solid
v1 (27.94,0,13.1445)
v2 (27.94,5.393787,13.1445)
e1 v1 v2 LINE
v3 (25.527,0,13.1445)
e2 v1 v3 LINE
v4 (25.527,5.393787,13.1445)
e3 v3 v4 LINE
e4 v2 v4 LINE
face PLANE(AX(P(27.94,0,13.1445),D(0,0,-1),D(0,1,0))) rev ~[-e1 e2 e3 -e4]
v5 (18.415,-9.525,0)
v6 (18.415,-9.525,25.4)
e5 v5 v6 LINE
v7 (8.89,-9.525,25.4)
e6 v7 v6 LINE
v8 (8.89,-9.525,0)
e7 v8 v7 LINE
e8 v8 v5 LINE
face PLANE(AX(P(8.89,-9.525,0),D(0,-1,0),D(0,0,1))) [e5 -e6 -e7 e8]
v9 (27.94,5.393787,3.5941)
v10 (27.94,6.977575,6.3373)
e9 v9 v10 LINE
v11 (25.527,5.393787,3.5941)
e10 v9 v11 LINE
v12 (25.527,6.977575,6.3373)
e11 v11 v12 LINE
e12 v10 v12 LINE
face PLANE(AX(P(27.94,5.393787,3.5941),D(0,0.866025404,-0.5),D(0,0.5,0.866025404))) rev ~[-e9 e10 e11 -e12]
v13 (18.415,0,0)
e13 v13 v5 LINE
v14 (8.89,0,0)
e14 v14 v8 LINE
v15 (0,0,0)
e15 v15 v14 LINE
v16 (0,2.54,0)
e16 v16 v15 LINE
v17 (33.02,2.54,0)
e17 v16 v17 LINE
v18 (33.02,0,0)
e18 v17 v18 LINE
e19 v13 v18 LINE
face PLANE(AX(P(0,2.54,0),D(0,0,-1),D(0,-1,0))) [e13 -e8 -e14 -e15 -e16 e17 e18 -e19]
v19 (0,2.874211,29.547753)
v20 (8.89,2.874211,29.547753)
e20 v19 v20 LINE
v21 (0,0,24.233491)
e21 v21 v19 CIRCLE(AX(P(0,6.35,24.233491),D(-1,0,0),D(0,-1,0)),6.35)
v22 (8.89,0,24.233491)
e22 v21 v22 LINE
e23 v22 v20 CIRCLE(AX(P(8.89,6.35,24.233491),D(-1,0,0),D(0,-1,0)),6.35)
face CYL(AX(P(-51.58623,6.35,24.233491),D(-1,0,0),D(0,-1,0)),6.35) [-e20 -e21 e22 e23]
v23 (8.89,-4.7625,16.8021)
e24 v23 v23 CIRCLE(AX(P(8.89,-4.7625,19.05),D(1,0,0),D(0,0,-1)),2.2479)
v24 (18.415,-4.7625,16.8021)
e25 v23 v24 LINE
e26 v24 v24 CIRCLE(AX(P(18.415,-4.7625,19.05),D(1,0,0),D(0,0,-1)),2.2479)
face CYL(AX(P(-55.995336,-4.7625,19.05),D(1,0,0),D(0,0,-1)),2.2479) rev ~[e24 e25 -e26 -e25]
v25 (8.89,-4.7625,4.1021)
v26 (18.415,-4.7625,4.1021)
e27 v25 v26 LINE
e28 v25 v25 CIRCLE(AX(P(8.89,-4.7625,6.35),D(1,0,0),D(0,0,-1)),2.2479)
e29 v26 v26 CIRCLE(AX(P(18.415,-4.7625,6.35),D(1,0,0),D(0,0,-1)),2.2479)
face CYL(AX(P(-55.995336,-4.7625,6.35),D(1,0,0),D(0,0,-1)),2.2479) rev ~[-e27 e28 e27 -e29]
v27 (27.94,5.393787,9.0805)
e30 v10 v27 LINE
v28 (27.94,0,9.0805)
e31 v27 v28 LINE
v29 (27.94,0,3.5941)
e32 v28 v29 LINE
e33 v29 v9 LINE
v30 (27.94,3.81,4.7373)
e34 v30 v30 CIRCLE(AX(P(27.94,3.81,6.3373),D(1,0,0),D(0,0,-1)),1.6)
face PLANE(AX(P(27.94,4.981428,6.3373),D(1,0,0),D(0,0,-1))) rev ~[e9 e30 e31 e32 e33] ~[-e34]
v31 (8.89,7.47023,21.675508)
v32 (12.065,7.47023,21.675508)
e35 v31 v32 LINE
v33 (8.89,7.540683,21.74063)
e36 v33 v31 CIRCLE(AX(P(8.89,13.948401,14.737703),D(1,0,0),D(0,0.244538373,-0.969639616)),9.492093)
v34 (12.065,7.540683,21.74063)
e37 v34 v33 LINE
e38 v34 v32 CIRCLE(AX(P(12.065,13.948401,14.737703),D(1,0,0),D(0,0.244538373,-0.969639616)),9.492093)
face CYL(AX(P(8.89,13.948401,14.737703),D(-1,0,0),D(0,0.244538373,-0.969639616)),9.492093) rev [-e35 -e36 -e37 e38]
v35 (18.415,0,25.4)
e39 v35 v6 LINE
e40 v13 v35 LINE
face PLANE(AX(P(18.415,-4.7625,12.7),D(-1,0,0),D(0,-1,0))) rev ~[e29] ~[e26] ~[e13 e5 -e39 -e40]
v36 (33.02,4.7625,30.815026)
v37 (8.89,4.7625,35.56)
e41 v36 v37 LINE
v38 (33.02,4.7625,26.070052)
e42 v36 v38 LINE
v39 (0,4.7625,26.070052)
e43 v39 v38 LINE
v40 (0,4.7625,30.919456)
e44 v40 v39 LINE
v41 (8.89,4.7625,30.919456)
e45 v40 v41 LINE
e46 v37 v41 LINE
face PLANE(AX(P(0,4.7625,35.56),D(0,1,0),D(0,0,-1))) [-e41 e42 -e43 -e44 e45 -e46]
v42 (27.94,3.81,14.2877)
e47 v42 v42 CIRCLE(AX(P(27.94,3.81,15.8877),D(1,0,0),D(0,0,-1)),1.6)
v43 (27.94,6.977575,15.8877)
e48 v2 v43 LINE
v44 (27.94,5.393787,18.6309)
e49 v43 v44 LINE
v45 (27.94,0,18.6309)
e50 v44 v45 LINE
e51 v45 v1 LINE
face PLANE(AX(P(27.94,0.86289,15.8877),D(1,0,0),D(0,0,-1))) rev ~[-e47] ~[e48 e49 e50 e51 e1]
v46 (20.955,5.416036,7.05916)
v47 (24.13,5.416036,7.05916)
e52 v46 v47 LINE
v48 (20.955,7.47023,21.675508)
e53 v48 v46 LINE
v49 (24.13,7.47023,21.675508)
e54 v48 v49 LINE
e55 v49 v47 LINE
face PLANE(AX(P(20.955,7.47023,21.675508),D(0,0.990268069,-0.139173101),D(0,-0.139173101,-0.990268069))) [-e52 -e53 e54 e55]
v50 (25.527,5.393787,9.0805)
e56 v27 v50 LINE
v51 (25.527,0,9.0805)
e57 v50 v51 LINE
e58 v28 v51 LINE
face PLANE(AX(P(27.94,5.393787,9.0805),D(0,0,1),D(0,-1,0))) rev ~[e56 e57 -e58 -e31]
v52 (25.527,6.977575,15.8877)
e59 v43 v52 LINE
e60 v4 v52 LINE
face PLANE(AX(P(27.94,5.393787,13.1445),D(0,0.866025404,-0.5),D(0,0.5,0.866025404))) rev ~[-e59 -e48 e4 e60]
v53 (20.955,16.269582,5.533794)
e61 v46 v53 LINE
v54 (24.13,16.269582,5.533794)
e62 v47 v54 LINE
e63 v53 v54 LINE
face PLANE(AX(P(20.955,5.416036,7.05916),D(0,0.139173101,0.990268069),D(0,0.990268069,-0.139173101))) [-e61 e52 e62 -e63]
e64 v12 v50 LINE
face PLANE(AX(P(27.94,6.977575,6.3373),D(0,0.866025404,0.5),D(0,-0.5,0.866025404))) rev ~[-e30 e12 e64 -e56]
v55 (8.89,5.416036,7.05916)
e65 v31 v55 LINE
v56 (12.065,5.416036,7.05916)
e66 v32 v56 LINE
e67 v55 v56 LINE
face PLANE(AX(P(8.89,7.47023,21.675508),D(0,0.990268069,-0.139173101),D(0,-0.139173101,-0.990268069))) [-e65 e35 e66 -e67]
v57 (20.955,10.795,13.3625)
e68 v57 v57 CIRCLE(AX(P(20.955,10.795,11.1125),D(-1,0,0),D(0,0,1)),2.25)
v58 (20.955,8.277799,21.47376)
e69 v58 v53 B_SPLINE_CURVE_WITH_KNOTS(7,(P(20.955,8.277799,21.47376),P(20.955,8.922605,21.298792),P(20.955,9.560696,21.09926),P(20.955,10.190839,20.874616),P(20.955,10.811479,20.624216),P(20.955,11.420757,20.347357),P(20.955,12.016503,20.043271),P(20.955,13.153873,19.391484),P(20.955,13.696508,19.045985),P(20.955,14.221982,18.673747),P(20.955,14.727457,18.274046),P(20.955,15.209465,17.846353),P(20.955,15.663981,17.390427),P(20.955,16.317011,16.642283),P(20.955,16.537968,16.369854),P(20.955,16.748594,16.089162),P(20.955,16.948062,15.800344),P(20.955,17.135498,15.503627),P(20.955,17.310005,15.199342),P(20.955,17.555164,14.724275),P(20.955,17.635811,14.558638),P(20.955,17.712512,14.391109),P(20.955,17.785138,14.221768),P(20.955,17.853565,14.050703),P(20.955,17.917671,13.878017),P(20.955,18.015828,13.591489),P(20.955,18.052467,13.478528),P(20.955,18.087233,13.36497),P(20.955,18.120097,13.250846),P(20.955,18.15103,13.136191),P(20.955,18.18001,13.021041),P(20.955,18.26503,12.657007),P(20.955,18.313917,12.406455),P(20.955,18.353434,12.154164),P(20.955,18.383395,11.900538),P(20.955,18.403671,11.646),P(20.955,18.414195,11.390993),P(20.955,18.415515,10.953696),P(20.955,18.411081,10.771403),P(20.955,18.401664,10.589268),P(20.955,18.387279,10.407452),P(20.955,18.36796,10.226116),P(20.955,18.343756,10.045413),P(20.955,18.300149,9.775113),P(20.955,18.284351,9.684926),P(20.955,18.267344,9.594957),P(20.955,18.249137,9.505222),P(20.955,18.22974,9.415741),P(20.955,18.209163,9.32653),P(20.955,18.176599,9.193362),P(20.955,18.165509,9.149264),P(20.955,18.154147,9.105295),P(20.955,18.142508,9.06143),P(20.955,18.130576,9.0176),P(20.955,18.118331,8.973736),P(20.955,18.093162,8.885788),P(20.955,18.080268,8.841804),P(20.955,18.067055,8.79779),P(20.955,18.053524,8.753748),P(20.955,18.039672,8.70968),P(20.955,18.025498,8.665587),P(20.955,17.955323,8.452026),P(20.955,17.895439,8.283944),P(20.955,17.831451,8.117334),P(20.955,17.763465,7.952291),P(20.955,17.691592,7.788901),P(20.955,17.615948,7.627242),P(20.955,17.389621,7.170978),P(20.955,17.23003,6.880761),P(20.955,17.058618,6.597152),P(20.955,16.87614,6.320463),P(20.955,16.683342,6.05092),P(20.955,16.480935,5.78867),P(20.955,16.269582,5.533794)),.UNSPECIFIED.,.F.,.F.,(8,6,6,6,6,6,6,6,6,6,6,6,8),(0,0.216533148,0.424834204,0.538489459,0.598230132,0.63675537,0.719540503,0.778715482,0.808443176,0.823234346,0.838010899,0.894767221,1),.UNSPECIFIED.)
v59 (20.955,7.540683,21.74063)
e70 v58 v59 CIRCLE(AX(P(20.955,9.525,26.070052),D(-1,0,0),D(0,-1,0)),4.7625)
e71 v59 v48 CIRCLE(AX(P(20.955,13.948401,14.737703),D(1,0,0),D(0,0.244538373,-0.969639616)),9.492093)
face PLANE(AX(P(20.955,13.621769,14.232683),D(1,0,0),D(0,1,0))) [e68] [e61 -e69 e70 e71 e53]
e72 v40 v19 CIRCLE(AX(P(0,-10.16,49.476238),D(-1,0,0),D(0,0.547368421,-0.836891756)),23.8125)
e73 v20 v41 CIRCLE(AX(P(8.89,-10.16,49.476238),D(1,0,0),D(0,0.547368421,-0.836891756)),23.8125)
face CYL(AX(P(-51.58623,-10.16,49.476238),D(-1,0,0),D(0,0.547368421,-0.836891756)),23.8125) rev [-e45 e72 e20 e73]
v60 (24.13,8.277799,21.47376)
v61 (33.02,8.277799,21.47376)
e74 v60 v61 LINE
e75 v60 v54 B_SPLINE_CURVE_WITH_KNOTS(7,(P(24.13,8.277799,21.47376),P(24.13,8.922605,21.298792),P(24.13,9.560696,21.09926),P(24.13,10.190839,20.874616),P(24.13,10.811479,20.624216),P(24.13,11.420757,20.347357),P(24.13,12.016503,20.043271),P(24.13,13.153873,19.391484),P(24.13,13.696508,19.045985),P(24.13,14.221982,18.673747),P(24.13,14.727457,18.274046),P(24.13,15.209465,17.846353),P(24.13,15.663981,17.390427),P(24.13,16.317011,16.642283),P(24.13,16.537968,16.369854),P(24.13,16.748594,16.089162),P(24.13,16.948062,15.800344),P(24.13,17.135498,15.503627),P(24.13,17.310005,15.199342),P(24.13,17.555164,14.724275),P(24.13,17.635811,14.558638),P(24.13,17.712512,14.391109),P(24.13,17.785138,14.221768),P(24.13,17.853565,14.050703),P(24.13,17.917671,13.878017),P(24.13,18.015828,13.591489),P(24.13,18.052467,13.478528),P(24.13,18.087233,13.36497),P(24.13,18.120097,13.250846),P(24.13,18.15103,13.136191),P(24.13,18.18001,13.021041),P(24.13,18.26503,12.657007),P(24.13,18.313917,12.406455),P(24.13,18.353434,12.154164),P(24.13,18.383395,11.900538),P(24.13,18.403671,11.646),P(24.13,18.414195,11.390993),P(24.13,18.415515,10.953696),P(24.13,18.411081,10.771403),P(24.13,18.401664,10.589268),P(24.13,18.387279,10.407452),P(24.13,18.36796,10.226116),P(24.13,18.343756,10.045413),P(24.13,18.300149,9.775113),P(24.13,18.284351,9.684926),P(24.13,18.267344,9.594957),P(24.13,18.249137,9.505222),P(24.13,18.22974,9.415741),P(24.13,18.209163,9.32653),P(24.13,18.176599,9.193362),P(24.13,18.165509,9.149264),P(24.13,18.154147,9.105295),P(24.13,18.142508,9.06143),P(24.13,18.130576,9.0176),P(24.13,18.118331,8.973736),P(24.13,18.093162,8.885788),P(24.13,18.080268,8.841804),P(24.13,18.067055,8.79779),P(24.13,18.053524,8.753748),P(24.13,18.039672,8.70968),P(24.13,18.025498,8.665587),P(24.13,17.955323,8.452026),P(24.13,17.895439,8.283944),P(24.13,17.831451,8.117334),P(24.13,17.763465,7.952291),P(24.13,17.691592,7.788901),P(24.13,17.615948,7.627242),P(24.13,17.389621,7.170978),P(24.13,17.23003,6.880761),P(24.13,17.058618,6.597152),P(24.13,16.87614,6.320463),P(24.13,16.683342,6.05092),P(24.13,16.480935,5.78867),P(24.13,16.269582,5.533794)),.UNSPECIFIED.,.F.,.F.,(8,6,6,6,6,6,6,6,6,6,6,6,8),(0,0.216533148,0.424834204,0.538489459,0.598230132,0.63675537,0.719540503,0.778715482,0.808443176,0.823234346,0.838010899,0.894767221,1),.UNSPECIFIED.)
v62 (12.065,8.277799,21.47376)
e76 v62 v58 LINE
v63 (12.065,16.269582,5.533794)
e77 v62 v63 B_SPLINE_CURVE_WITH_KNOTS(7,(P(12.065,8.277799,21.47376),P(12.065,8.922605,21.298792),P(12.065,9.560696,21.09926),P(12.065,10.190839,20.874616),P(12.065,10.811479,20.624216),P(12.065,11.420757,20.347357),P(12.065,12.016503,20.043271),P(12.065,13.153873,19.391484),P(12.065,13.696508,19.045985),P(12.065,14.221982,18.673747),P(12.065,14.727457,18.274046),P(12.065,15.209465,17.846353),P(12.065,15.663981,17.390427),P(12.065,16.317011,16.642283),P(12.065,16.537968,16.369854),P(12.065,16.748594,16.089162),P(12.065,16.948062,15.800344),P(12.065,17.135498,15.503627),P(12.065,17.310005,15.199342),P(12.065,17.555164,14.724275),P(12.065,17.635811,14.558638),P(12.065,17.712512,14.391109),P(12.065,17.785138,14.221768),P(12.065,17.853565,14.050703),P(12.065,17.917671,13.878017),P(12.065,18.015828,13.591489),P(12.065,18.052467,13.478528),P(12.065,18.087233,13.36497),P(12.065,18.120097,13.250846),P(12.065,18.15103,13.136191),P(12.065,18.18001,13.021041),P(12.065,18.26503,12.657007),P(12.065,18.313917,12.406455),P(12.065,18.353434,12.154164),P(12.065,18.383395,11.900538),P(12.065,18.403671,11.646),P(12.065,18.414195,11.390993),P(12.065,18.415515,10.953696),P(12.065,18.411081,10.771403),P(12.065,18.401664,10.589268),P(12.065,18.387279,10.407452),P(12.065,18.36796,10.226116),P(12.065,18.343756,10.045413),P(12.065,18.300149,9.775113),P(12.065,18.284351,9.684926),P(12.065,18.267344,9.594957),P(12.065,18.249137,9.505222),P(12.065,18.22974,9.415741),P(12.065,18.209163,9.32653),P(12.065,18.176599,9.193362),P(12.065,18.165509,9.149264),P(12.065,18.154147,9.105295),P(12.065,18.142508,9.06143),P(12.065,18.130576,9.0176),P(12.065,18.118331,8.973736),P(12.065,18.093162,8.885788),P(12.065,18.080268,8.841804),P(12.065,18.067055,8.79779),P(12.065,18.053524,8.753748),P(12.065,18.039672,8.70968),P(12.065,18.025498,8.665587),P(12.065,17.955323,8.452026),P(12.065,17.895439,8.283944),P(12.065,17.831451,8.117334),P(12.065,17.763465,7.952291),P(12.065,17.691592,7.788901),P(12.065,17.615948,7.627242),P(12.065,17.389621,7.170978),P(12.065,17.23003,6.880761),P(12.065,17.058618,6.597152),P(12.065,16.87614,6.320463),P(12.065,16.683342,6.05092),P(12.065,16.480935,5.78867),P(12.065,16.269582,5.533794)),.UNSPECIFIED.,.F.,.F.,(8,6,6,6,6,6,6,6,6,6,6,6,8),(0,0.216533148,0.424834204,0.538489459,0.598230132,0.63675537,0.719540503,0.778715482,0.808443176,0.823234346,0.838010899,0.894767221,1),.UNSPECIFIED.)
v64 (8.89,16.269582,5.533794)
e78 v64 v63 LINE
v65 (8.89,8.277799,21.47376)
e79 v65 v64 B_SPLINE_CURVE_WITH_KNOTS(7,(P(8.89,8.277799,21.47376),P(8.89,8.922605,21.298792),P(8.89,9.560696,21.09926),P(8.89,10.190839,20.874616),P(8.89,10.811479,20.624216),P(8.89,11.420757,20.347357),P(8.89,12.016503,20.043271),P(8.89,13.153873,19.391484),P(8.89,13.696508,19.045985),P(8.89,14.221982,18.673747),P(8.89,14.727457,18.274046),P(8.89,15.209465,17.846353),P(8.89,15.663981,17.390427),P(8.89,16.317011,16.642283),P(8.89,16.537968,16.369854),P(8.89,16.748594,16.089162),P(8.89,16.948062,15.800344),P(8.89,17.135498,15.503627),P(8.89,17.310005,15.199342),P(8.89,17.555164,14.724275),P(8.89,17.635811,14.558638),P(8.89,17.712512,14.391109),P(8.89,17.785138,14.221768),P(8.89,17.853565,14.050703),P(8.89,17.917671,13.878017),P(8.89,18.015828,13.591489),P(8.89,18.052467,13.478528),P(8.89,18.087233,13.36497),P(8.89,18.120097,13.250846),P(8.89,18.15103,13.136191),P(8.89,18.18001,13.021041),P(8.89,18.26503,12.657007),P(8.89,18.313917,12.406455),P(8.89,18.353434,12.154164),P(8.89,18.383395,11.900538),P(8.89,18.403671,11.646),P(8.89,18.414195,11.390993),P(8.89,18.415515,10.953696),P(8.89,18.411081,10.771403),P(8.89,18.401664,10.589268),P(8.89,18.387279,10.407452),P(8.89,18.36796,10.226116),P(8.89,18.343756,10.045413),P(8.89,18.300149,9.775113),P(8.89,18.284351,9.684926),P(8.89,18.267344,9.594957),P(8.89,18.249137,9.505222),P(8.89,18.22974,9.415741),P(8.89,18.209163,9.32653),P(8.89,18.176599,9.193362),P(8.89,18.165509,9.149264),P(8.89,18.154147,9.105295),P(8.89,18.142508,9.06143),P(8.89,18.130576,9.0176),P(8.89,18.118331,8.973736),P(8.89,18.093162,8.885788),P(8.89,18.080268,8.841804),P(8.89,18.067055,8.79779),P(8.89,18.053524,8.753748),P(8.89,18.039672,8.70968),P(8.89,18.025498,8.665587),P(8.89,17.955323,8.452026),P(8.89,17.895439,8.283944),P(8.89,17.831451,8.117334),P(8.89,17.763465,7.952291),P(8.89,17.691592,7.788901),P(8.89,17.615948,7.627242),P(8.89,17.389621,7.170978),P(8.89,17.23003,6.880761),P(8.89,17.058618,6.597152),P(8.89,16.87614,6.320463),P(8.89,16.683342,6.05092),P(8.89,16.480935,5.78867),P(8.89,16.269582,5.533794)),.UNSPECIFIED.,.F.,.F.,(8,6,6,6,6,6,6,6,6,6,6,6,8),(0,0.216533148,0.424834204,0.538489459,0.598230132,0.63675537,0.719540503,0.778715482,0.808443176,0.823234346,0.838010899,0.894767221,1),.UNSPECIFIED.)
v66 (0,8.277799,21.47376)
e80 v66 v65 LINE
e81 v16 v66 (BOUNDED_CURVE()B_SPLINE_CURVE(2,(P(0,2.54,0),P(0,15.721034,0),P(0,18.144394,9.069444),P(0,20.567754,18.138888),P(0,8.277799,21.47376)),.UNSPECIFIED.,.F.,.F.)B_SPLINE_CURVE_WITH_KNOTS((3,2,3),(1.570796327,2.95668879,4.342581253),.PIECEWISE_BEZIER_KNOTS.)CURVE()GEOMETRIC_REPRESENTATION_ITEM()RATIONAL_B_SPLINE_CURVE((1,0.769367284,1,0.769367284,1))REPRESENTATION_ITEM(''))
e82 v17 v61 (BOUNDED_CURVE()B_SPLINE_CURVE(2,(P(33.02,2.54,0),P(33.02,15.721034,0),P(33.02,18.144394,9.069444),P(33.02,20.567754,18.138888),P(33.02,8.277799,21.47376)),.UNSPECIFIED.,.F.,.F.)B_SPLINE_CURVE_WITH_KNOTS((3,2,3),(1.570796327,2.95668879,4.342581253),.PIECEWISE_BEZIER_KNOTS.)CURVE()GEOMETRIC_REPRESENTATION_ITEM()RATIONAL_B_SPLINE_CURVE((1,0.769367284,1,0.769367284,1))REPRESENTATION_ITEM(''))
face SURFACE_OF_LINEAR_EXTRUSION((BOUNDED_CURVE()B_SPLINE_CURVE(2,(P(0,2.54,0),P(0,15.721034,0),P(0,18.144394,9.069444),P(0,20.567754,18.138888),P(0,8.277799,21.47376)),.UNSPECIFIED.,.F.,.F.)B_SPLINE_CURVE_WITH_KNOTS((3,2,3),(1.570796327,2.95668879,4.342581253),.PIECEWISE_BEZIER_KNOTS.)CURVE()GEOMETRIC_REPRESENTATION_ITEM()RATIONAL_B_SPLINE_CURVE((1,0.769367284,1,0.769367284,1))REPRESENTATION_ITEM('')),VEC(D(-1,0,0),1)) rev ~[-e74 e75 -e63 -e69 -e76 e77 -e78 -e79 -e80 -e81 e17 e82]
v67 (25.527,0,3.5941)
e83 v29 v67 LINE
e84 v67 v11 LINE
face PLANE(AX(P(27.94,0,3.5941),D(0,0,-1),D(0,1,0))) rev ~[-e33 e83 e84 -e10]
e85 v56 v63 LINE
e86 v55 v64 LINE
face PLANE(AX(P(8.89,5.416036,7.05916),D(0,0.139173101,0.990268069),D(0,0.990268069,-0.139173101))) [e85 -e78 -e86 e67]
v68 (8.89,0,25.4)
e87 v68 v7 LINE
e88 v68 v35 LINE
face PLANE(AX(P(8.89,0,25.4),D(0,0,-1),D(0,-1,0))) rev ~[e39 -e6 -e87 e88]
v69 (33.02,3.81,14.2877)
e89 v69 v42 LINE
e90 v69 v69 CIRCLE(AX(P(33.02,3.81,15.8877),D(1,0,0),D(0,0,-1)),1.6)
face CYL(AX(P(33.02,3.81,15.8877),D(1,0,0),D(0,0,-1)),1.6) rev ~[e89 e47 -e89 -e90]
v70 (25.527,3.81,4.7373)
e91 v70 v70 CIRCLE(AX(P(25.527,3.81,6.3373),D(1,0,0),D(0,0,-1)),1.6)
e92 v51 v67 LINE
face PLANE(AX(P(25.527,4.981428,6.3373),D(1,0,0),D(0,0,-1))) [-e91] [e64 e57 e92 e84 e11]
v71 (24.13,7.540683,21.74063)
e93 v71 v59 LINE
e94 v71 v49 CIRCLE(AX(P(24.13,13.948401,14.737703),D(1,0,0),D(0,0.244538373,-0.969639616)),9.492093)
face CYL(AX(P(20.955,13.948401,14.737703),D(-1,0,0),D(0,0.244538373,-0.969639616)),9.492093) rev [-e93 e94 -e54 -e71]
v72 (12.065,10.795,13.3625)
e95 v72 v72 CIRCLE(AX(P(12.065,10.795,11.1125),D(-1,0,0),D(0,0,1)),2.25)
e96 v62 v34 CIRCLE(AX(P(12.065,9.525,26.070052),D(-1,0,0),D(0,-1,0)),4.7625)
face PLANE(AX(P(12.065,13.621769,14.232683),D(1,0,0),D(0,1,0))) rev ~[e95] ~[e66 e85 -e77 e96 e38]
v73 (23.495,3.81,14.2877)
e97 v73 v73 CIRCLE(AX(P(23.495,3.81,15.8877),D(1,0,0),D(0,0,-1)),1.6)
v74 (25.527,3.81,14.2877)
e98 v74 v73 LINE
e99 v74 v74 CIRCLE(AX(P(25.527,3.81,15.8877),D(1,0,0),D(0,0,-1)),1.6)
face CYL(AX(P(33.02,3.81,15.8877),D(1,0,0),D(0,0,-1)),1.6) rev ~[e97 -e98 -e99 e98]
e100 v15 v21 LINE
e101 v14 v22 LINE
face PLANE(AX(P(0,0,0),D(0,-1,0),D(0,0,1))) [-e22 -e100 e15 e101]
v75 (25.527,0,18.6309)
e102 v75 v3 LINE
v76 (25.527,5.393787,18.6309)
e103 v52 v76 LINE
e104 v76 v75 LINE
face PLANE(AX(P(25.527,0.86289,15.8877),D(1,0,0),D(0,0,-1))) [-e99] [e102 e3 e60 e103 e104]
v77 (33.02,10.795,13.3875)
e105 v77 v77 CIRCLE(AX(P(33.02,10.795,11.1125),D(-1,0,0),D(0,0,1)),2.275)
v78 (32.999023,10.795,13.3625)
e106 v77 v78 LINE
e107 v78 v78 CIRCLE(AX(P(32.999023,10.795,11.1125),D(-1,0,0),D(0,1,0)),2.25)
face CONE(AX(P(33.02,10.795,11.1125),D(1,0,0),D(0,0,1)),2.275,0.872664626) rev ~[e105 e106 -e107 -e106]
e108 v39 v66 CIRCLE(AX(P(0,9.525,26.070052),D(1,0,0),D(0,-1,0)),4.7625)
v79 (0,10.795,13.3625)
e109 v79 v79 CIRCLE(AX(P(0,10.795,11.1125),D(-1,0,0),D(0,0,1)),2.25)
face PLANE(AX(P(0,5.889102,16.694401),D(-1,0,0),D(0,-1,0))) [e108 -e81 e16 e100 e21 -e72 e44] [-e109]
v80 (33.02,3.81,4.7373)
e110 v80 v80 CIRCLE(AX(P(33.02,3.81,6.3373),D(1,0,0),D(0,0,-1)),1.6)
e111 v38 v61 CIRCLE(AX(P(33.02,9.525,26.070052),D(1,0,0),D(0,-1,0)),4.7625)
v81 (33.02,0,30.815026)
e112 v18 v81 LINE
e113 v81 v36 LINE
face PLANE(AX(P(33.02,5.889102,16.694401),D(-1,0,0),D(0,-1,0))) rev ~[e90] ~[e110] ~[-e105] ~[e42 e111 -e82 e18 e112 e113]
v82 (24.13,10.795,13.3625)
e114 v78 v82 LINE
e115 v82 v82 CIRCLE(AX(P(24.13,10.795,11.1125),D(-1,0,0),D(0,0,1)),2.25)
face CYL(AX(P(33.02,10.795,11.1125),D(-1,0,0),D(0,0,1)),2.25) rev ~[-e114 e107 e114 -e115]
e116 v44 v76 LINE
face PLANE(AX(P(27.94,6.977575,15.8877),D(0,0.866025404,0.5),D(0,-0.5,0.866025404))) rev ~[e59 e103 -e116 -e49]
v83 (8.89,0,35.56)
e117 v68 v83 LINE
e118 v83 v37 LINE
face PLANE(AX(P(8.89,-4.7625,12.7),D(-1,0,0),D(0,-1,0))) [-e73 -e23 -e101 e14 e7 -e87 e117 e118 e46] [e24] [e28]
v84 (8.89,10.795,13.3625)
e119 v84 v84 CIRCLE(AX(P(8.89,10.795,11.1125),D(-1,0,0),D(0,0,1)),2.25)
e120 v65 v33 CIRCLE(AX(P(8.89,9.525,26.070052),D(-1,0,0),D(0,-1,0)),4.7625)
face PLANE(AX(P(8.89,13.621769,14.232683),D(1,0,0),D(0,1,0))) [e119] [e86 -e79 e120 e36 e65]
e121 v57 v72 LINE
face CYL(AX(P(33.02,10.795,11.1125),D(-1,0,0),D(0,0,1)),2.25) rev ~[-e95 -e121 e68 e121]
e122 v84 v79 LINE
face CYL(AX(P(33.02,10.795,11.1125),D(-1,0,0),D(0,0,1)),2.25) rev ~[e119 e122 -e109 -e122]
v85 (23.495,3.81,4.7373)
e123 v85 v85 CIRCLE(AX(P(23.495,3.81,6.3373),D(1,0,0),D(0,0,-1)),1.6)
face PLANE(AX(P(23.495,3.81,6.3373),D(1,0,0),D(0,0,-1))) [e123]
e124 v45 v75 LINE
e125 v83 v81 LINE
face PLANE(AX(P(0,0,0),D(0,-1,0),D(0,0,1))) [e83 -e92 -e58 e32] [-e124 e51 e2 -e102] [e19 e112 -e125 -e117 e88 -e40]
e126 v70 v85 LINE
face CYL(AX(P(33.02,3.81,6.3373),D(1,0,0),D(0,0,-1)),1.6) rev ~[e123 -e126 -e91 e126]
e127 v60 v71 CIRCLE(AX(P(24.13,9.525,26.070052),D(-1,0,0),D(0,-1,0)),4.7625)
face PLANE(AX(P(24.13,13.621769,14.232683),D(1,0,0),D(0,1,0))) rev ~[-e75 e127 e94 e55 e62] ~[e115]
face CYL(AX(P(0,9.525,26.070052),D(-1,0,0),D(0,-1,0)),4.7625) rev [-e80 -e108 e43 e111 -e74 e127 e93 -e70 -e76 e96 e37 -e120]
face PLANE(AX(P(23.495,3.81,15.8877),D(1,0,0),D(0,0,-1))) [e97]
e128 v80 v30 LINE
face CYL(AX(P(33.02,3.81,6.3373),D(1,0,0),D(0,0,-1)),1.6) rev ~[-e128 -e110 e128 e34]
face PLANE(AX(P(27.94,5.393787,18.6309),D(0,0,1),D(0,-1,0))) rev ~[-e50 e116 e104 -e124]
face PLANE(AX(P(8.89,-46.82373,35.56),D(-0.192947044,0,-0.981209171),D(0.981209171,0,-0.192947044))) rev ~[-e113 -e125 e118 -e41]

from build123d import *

# Parameters (mm, degrees)
BOSS_EXTRUDE1_DEPTH            = 33.02
M4_CLEARANCE_HOLE1_D           = 4.5
M4_CLEARANCE_HOLE1_CSINK_D     = 4.55
M4_CLEARANCE_HOLE1_CSINK_ANGLE = 100
SKETCH5_W                      = 9.525
SKETCH5_H                      = 25.4
BOSS_EXTRUDE2_DEPTH            = 9.525
F_8_CLEARANCE_HOLE1_D          = 4.4958
CUT_EXTRUDE1_DEPTH             = 51.586230043
CUT_EXTRUDE1_DEPTH_BACK        = 51.586230043
CUT_EXTRUDE3_DEPTH             = 3.175
LPATTERN1_COUNT                = 2
LPATTERN1_PITCH                = 12.065
CUT_EXTRUDE4_DEPTH             = 2.413
SKETCH13_R                     = 1.599999975
CUT_EXTRUDE5_DEPTH             = 9.525
CUT_EXTRUDE6_DEPTH             = 8.89
CUT_EXTRUDE6_DEPTH_BACK        = 51.586230043


with BuildPart() as part:
    # Sketch1 → Boss-Extrude1 (new body)
    with BuildSketch(Plane.YZ):
        with BuildLine():
            Line((0, 0), (0, 35.56))
            Line((0, 35.56), (4.7625, 35.56))
            Line((4.7625, 35.56), (4.7625, 26.070051643))
            ThreePointArc((4.7625, 26.070051643), (5.742064598, 23.176817123), (8.277799105, 21.473760076))
            add(Edge.make_bspline(
                [(2.54, 0), (15.72103374, 0), (18.14439364, 9.069444242), (20.567753539, 18.138888484), (8.277799105, 21.473760076)],
                knots=[1.570796327, 1.570796327, 1.570796327, 2.95668879, 2.95668879, 4.342581253, 4.342581253, 4.342581253], degree=2, weights=[1, 0.769367284, 1, 0.769367284, 1]))
            Line((2.54, 0), (0, 0))
        make_face()
    extrude(amount=BOSS_EXTRUDE1_DEPTH)

    # M4 Clearance Hole1 (through all)
    with Locations(Plane(origin=(33.02, 0, 0), x_dir=(0, 0, -1), z_dir=(1, 0, 0))):
        with Locations((-11.1125, 10.795)):
            CounterSinkHole(M4_CLEARANCE_HOLE1_D / 2, M4_CLEARANCE_HOLE1_CSINK_D / 2, counter_sink_angle=M4_CLEARANCE_HOLE1_CSINK_ANGLE)

    # Sketch5 → Boss-Extrude2 (add)
    with BuildSketch(Plane(origin=(8.89, 0, 0), x_dir=(0, -1, 0), z_dir=(-1, 0, 0))):
        with Locations((4.7625, 12.7)):
            Rectangle(SKETCH5_W, SKETCH5_H)
    extrude(amount=-BOSS_EXTRUDE2_DEPTH)

    # #8 Clearance Hole1 (through all)
    with Locations(Plane.ZY):
        with Locations((6.35, -4.7625), (19.05, -4.7625)):
            Hole(F_8_CLEARANCE_HOLE1_D / 2)

    # Sketch8 → Cut-Extrude1 (cut, two sides: drawn at the far end of the back side and taken through both)
    with BuildSketch(Plane(origin=(0, 4.7625, 0), x_dir=(-1, 0, 0), z_dir=(0, 1, 0)).offset(-CUT_EXTRUDE1_DEPTH_BACK)):
        Polygon((-33.02, 35.56), (-8.89, 35.56), (-33.02, 30.815025822), align=None)
    extrude(amount=CUT_EXTRUDE1_DEPTH + CUT_EXTRUDE1_DEPTH_BACK, mode=Mode.SUBTRACT)

    # Sketch9 → Cut-Extrude3 (cut)
    with BuildSketch(Plane.YZ.offset(8.89)):
        with BuildLine():
            Line((7.470230181, 21.675508242), (5.416036429, 7.059160216))
            Line((5.416036429, 7.059160216), (16.269581823, 5.533793887))
            ThreePointArc((16.269581823, 5.533793887), (22.282600027, 19.280935147), (7.470230181, 21.675508242))
        make_face()
    cut_extrude3 = extrude(amount=CUT_EXTRUDE3_DEPTH, mode=Mode.SUBTRACT)

    # LPattern1: Cut-Extrude3 ×2
    with Locations(*[(i * LPATTERN1_PITCH, 0, 0) for i in range(1, LPATTERN1_COUNT)]):
        add(cut_extrude3, mode=Mode.SUBTRACT)

    # Sketch12 → Cut-Extrude4 (cut)
    with BuildSketch(Plane(origin=(27.94, 0, 0), x_dir=(0, 0, -1), z_dir=(1, 0, 0))):
        Polygon((-18.6309, 2.226212742), (-18.6309, 0), (-13.1445, 0), (-13.1445, 2.226212742), (-15.8877, 0.642425483), align=None)
        Polygon((-18.6309, 5.393787258), (-18.6309, 3.81), (-13.1445, 3.81), (-13.1445, 5.393787258), (-15.8877, 6.977574517), align=None)
        Polygon((-9.0805, 3.81), (-3.5941, 3.81), (-3.5941, 5.393787258), (-6.3373, 6.977574517), (-9.0805, 5.393787258), align=None)
        Polygon((-6.3373, 0.642425483), (-3.5941, 2.226212742), (-3.5941, 3.81), (-9.0805, 3.81), (-9.0805, 2.226212742), align=None)
        Polygon((-9.0805, 0), (-3.5941, 0), (-3.5941, 2.226212742), (-6.3373, 0.642425483), (-9.0805, 2.226212742), align=None)
        Polygon((-18.6309, 3.81), (-18.6309, 2.226212742), (-15.8877, 0.642425483), (-13.1445, 2.226212742), (-13.1445, 3.81), align=None)
    extrude(amount=-CUT_EXTRUDE4_DEPTH, mode=Mode.SUBTRACT)

    # Sketch13 → Cut-Extrude5 (cut)
    with BuildSketch(Plane.YZ.offset(33.02)):
        with Locations(Location((3.81, 15.8877, 0), (0, 0, 270))):
            Circle(SKETCH13_R)
        with Locations(Location((3.81, 6.3373, 0), (0, 0, 270))):
            Circle(SKETCH13_R)
    extrude(amount=-CUT_EXTRUDE5_DEPTH, mode=Mode.SUBTRACT)

    # Sketch15 → Cut-Extrude6 (cut, two sides: drawn at the far end of the back side and taken through both)
    with BuildSketch(Plane(origin=(0, 4.7625, 0), x_dir=(0, 1, 0), z_dir=(1, 0, 0)).offset(-CUT_EXTRUDE6_DEPTH_BACK)):
        with BuildLine():
            Line((-14.2875, 27.94), (-4.7625, 27.94))
            Line((-4.7625, 27.94), (-4.7625, 35.56))
            Line((-4.7625, 35.56), (0, 35.56))
            Line((0, 35.56), (0, 30.919456431))
            ThreePointArc((0, 30.919456431), (6.552801948, 39.188062352), (8.89, 49.47623821))
            ThreePointArc((8.89, 49.47623821), (-31.98350955, 66.08819503), (-14.2875, 25.672206383))
            Line((-14.2875, 25.672206383), (-14.2875, 27.94))
        make_face()
        with BuildLine():
            Line((-4.7625, 35.56), (-4.7625, 27.94))
            ThreePointArc((-4.7625, 27.94), (-3.297566963, 28.694128401), (-1.888289474, 29.547753265))
            ThreePointArc((-1.888289474, 29.547753265), (-0.927329109, 30.21045642), (0, 30.919456431))
            Line((0, 30.919456431), (0, 35.56))
            Line((0, 35.56), (-4.7625, 35.56))
        make_face()
        with BuildLine():
            Line((-4.7625, 27.94), (-4.7625, 24.233490613))
            ThreePointArc((-4.7625, 24.233490613), (-3.997916867, 27.254354467), (-1.888289474, 29.547753265))
            ThreePointArc((-1.888289474, 29.547753265), (-3.297566963, 28.694128401), (-4.7625, 27.94))
        make_face()
        with BuildLine():
            Line((-14.2875, 0), (-4.7625, 0))
            Line((-4.7625, 0), (-4.7625, 24.233490613))
            Line((-4.7625, 24.233490613), (-4.7625, 27.94))
            ThreePointArc((-4.7625, 27.94), (-9.407182401, 26.311255412), (-14.2875, 25.672206383))
            Line((-14.2875, 25.672206383), (-14.2875, 0))
        make_face()
        with BuildLine():
            ThreePointArc((-14.2875, 25.672206383), (-9.407182401, 26.311255412), (-4.7625, 27.94))
            Line((-4.7625, 27.94), (-14.2875, 27.94))
            Line((-14.2875, 27.94), (-14.2875, 25.672206383))
        make_face()
    extrude(amount=CUT_EXTRUDE6_DEPTH + CUT_EXTRUDE6_DEPTH_BACK, mode=Mode.SUBTRACT)


solid = part.part
